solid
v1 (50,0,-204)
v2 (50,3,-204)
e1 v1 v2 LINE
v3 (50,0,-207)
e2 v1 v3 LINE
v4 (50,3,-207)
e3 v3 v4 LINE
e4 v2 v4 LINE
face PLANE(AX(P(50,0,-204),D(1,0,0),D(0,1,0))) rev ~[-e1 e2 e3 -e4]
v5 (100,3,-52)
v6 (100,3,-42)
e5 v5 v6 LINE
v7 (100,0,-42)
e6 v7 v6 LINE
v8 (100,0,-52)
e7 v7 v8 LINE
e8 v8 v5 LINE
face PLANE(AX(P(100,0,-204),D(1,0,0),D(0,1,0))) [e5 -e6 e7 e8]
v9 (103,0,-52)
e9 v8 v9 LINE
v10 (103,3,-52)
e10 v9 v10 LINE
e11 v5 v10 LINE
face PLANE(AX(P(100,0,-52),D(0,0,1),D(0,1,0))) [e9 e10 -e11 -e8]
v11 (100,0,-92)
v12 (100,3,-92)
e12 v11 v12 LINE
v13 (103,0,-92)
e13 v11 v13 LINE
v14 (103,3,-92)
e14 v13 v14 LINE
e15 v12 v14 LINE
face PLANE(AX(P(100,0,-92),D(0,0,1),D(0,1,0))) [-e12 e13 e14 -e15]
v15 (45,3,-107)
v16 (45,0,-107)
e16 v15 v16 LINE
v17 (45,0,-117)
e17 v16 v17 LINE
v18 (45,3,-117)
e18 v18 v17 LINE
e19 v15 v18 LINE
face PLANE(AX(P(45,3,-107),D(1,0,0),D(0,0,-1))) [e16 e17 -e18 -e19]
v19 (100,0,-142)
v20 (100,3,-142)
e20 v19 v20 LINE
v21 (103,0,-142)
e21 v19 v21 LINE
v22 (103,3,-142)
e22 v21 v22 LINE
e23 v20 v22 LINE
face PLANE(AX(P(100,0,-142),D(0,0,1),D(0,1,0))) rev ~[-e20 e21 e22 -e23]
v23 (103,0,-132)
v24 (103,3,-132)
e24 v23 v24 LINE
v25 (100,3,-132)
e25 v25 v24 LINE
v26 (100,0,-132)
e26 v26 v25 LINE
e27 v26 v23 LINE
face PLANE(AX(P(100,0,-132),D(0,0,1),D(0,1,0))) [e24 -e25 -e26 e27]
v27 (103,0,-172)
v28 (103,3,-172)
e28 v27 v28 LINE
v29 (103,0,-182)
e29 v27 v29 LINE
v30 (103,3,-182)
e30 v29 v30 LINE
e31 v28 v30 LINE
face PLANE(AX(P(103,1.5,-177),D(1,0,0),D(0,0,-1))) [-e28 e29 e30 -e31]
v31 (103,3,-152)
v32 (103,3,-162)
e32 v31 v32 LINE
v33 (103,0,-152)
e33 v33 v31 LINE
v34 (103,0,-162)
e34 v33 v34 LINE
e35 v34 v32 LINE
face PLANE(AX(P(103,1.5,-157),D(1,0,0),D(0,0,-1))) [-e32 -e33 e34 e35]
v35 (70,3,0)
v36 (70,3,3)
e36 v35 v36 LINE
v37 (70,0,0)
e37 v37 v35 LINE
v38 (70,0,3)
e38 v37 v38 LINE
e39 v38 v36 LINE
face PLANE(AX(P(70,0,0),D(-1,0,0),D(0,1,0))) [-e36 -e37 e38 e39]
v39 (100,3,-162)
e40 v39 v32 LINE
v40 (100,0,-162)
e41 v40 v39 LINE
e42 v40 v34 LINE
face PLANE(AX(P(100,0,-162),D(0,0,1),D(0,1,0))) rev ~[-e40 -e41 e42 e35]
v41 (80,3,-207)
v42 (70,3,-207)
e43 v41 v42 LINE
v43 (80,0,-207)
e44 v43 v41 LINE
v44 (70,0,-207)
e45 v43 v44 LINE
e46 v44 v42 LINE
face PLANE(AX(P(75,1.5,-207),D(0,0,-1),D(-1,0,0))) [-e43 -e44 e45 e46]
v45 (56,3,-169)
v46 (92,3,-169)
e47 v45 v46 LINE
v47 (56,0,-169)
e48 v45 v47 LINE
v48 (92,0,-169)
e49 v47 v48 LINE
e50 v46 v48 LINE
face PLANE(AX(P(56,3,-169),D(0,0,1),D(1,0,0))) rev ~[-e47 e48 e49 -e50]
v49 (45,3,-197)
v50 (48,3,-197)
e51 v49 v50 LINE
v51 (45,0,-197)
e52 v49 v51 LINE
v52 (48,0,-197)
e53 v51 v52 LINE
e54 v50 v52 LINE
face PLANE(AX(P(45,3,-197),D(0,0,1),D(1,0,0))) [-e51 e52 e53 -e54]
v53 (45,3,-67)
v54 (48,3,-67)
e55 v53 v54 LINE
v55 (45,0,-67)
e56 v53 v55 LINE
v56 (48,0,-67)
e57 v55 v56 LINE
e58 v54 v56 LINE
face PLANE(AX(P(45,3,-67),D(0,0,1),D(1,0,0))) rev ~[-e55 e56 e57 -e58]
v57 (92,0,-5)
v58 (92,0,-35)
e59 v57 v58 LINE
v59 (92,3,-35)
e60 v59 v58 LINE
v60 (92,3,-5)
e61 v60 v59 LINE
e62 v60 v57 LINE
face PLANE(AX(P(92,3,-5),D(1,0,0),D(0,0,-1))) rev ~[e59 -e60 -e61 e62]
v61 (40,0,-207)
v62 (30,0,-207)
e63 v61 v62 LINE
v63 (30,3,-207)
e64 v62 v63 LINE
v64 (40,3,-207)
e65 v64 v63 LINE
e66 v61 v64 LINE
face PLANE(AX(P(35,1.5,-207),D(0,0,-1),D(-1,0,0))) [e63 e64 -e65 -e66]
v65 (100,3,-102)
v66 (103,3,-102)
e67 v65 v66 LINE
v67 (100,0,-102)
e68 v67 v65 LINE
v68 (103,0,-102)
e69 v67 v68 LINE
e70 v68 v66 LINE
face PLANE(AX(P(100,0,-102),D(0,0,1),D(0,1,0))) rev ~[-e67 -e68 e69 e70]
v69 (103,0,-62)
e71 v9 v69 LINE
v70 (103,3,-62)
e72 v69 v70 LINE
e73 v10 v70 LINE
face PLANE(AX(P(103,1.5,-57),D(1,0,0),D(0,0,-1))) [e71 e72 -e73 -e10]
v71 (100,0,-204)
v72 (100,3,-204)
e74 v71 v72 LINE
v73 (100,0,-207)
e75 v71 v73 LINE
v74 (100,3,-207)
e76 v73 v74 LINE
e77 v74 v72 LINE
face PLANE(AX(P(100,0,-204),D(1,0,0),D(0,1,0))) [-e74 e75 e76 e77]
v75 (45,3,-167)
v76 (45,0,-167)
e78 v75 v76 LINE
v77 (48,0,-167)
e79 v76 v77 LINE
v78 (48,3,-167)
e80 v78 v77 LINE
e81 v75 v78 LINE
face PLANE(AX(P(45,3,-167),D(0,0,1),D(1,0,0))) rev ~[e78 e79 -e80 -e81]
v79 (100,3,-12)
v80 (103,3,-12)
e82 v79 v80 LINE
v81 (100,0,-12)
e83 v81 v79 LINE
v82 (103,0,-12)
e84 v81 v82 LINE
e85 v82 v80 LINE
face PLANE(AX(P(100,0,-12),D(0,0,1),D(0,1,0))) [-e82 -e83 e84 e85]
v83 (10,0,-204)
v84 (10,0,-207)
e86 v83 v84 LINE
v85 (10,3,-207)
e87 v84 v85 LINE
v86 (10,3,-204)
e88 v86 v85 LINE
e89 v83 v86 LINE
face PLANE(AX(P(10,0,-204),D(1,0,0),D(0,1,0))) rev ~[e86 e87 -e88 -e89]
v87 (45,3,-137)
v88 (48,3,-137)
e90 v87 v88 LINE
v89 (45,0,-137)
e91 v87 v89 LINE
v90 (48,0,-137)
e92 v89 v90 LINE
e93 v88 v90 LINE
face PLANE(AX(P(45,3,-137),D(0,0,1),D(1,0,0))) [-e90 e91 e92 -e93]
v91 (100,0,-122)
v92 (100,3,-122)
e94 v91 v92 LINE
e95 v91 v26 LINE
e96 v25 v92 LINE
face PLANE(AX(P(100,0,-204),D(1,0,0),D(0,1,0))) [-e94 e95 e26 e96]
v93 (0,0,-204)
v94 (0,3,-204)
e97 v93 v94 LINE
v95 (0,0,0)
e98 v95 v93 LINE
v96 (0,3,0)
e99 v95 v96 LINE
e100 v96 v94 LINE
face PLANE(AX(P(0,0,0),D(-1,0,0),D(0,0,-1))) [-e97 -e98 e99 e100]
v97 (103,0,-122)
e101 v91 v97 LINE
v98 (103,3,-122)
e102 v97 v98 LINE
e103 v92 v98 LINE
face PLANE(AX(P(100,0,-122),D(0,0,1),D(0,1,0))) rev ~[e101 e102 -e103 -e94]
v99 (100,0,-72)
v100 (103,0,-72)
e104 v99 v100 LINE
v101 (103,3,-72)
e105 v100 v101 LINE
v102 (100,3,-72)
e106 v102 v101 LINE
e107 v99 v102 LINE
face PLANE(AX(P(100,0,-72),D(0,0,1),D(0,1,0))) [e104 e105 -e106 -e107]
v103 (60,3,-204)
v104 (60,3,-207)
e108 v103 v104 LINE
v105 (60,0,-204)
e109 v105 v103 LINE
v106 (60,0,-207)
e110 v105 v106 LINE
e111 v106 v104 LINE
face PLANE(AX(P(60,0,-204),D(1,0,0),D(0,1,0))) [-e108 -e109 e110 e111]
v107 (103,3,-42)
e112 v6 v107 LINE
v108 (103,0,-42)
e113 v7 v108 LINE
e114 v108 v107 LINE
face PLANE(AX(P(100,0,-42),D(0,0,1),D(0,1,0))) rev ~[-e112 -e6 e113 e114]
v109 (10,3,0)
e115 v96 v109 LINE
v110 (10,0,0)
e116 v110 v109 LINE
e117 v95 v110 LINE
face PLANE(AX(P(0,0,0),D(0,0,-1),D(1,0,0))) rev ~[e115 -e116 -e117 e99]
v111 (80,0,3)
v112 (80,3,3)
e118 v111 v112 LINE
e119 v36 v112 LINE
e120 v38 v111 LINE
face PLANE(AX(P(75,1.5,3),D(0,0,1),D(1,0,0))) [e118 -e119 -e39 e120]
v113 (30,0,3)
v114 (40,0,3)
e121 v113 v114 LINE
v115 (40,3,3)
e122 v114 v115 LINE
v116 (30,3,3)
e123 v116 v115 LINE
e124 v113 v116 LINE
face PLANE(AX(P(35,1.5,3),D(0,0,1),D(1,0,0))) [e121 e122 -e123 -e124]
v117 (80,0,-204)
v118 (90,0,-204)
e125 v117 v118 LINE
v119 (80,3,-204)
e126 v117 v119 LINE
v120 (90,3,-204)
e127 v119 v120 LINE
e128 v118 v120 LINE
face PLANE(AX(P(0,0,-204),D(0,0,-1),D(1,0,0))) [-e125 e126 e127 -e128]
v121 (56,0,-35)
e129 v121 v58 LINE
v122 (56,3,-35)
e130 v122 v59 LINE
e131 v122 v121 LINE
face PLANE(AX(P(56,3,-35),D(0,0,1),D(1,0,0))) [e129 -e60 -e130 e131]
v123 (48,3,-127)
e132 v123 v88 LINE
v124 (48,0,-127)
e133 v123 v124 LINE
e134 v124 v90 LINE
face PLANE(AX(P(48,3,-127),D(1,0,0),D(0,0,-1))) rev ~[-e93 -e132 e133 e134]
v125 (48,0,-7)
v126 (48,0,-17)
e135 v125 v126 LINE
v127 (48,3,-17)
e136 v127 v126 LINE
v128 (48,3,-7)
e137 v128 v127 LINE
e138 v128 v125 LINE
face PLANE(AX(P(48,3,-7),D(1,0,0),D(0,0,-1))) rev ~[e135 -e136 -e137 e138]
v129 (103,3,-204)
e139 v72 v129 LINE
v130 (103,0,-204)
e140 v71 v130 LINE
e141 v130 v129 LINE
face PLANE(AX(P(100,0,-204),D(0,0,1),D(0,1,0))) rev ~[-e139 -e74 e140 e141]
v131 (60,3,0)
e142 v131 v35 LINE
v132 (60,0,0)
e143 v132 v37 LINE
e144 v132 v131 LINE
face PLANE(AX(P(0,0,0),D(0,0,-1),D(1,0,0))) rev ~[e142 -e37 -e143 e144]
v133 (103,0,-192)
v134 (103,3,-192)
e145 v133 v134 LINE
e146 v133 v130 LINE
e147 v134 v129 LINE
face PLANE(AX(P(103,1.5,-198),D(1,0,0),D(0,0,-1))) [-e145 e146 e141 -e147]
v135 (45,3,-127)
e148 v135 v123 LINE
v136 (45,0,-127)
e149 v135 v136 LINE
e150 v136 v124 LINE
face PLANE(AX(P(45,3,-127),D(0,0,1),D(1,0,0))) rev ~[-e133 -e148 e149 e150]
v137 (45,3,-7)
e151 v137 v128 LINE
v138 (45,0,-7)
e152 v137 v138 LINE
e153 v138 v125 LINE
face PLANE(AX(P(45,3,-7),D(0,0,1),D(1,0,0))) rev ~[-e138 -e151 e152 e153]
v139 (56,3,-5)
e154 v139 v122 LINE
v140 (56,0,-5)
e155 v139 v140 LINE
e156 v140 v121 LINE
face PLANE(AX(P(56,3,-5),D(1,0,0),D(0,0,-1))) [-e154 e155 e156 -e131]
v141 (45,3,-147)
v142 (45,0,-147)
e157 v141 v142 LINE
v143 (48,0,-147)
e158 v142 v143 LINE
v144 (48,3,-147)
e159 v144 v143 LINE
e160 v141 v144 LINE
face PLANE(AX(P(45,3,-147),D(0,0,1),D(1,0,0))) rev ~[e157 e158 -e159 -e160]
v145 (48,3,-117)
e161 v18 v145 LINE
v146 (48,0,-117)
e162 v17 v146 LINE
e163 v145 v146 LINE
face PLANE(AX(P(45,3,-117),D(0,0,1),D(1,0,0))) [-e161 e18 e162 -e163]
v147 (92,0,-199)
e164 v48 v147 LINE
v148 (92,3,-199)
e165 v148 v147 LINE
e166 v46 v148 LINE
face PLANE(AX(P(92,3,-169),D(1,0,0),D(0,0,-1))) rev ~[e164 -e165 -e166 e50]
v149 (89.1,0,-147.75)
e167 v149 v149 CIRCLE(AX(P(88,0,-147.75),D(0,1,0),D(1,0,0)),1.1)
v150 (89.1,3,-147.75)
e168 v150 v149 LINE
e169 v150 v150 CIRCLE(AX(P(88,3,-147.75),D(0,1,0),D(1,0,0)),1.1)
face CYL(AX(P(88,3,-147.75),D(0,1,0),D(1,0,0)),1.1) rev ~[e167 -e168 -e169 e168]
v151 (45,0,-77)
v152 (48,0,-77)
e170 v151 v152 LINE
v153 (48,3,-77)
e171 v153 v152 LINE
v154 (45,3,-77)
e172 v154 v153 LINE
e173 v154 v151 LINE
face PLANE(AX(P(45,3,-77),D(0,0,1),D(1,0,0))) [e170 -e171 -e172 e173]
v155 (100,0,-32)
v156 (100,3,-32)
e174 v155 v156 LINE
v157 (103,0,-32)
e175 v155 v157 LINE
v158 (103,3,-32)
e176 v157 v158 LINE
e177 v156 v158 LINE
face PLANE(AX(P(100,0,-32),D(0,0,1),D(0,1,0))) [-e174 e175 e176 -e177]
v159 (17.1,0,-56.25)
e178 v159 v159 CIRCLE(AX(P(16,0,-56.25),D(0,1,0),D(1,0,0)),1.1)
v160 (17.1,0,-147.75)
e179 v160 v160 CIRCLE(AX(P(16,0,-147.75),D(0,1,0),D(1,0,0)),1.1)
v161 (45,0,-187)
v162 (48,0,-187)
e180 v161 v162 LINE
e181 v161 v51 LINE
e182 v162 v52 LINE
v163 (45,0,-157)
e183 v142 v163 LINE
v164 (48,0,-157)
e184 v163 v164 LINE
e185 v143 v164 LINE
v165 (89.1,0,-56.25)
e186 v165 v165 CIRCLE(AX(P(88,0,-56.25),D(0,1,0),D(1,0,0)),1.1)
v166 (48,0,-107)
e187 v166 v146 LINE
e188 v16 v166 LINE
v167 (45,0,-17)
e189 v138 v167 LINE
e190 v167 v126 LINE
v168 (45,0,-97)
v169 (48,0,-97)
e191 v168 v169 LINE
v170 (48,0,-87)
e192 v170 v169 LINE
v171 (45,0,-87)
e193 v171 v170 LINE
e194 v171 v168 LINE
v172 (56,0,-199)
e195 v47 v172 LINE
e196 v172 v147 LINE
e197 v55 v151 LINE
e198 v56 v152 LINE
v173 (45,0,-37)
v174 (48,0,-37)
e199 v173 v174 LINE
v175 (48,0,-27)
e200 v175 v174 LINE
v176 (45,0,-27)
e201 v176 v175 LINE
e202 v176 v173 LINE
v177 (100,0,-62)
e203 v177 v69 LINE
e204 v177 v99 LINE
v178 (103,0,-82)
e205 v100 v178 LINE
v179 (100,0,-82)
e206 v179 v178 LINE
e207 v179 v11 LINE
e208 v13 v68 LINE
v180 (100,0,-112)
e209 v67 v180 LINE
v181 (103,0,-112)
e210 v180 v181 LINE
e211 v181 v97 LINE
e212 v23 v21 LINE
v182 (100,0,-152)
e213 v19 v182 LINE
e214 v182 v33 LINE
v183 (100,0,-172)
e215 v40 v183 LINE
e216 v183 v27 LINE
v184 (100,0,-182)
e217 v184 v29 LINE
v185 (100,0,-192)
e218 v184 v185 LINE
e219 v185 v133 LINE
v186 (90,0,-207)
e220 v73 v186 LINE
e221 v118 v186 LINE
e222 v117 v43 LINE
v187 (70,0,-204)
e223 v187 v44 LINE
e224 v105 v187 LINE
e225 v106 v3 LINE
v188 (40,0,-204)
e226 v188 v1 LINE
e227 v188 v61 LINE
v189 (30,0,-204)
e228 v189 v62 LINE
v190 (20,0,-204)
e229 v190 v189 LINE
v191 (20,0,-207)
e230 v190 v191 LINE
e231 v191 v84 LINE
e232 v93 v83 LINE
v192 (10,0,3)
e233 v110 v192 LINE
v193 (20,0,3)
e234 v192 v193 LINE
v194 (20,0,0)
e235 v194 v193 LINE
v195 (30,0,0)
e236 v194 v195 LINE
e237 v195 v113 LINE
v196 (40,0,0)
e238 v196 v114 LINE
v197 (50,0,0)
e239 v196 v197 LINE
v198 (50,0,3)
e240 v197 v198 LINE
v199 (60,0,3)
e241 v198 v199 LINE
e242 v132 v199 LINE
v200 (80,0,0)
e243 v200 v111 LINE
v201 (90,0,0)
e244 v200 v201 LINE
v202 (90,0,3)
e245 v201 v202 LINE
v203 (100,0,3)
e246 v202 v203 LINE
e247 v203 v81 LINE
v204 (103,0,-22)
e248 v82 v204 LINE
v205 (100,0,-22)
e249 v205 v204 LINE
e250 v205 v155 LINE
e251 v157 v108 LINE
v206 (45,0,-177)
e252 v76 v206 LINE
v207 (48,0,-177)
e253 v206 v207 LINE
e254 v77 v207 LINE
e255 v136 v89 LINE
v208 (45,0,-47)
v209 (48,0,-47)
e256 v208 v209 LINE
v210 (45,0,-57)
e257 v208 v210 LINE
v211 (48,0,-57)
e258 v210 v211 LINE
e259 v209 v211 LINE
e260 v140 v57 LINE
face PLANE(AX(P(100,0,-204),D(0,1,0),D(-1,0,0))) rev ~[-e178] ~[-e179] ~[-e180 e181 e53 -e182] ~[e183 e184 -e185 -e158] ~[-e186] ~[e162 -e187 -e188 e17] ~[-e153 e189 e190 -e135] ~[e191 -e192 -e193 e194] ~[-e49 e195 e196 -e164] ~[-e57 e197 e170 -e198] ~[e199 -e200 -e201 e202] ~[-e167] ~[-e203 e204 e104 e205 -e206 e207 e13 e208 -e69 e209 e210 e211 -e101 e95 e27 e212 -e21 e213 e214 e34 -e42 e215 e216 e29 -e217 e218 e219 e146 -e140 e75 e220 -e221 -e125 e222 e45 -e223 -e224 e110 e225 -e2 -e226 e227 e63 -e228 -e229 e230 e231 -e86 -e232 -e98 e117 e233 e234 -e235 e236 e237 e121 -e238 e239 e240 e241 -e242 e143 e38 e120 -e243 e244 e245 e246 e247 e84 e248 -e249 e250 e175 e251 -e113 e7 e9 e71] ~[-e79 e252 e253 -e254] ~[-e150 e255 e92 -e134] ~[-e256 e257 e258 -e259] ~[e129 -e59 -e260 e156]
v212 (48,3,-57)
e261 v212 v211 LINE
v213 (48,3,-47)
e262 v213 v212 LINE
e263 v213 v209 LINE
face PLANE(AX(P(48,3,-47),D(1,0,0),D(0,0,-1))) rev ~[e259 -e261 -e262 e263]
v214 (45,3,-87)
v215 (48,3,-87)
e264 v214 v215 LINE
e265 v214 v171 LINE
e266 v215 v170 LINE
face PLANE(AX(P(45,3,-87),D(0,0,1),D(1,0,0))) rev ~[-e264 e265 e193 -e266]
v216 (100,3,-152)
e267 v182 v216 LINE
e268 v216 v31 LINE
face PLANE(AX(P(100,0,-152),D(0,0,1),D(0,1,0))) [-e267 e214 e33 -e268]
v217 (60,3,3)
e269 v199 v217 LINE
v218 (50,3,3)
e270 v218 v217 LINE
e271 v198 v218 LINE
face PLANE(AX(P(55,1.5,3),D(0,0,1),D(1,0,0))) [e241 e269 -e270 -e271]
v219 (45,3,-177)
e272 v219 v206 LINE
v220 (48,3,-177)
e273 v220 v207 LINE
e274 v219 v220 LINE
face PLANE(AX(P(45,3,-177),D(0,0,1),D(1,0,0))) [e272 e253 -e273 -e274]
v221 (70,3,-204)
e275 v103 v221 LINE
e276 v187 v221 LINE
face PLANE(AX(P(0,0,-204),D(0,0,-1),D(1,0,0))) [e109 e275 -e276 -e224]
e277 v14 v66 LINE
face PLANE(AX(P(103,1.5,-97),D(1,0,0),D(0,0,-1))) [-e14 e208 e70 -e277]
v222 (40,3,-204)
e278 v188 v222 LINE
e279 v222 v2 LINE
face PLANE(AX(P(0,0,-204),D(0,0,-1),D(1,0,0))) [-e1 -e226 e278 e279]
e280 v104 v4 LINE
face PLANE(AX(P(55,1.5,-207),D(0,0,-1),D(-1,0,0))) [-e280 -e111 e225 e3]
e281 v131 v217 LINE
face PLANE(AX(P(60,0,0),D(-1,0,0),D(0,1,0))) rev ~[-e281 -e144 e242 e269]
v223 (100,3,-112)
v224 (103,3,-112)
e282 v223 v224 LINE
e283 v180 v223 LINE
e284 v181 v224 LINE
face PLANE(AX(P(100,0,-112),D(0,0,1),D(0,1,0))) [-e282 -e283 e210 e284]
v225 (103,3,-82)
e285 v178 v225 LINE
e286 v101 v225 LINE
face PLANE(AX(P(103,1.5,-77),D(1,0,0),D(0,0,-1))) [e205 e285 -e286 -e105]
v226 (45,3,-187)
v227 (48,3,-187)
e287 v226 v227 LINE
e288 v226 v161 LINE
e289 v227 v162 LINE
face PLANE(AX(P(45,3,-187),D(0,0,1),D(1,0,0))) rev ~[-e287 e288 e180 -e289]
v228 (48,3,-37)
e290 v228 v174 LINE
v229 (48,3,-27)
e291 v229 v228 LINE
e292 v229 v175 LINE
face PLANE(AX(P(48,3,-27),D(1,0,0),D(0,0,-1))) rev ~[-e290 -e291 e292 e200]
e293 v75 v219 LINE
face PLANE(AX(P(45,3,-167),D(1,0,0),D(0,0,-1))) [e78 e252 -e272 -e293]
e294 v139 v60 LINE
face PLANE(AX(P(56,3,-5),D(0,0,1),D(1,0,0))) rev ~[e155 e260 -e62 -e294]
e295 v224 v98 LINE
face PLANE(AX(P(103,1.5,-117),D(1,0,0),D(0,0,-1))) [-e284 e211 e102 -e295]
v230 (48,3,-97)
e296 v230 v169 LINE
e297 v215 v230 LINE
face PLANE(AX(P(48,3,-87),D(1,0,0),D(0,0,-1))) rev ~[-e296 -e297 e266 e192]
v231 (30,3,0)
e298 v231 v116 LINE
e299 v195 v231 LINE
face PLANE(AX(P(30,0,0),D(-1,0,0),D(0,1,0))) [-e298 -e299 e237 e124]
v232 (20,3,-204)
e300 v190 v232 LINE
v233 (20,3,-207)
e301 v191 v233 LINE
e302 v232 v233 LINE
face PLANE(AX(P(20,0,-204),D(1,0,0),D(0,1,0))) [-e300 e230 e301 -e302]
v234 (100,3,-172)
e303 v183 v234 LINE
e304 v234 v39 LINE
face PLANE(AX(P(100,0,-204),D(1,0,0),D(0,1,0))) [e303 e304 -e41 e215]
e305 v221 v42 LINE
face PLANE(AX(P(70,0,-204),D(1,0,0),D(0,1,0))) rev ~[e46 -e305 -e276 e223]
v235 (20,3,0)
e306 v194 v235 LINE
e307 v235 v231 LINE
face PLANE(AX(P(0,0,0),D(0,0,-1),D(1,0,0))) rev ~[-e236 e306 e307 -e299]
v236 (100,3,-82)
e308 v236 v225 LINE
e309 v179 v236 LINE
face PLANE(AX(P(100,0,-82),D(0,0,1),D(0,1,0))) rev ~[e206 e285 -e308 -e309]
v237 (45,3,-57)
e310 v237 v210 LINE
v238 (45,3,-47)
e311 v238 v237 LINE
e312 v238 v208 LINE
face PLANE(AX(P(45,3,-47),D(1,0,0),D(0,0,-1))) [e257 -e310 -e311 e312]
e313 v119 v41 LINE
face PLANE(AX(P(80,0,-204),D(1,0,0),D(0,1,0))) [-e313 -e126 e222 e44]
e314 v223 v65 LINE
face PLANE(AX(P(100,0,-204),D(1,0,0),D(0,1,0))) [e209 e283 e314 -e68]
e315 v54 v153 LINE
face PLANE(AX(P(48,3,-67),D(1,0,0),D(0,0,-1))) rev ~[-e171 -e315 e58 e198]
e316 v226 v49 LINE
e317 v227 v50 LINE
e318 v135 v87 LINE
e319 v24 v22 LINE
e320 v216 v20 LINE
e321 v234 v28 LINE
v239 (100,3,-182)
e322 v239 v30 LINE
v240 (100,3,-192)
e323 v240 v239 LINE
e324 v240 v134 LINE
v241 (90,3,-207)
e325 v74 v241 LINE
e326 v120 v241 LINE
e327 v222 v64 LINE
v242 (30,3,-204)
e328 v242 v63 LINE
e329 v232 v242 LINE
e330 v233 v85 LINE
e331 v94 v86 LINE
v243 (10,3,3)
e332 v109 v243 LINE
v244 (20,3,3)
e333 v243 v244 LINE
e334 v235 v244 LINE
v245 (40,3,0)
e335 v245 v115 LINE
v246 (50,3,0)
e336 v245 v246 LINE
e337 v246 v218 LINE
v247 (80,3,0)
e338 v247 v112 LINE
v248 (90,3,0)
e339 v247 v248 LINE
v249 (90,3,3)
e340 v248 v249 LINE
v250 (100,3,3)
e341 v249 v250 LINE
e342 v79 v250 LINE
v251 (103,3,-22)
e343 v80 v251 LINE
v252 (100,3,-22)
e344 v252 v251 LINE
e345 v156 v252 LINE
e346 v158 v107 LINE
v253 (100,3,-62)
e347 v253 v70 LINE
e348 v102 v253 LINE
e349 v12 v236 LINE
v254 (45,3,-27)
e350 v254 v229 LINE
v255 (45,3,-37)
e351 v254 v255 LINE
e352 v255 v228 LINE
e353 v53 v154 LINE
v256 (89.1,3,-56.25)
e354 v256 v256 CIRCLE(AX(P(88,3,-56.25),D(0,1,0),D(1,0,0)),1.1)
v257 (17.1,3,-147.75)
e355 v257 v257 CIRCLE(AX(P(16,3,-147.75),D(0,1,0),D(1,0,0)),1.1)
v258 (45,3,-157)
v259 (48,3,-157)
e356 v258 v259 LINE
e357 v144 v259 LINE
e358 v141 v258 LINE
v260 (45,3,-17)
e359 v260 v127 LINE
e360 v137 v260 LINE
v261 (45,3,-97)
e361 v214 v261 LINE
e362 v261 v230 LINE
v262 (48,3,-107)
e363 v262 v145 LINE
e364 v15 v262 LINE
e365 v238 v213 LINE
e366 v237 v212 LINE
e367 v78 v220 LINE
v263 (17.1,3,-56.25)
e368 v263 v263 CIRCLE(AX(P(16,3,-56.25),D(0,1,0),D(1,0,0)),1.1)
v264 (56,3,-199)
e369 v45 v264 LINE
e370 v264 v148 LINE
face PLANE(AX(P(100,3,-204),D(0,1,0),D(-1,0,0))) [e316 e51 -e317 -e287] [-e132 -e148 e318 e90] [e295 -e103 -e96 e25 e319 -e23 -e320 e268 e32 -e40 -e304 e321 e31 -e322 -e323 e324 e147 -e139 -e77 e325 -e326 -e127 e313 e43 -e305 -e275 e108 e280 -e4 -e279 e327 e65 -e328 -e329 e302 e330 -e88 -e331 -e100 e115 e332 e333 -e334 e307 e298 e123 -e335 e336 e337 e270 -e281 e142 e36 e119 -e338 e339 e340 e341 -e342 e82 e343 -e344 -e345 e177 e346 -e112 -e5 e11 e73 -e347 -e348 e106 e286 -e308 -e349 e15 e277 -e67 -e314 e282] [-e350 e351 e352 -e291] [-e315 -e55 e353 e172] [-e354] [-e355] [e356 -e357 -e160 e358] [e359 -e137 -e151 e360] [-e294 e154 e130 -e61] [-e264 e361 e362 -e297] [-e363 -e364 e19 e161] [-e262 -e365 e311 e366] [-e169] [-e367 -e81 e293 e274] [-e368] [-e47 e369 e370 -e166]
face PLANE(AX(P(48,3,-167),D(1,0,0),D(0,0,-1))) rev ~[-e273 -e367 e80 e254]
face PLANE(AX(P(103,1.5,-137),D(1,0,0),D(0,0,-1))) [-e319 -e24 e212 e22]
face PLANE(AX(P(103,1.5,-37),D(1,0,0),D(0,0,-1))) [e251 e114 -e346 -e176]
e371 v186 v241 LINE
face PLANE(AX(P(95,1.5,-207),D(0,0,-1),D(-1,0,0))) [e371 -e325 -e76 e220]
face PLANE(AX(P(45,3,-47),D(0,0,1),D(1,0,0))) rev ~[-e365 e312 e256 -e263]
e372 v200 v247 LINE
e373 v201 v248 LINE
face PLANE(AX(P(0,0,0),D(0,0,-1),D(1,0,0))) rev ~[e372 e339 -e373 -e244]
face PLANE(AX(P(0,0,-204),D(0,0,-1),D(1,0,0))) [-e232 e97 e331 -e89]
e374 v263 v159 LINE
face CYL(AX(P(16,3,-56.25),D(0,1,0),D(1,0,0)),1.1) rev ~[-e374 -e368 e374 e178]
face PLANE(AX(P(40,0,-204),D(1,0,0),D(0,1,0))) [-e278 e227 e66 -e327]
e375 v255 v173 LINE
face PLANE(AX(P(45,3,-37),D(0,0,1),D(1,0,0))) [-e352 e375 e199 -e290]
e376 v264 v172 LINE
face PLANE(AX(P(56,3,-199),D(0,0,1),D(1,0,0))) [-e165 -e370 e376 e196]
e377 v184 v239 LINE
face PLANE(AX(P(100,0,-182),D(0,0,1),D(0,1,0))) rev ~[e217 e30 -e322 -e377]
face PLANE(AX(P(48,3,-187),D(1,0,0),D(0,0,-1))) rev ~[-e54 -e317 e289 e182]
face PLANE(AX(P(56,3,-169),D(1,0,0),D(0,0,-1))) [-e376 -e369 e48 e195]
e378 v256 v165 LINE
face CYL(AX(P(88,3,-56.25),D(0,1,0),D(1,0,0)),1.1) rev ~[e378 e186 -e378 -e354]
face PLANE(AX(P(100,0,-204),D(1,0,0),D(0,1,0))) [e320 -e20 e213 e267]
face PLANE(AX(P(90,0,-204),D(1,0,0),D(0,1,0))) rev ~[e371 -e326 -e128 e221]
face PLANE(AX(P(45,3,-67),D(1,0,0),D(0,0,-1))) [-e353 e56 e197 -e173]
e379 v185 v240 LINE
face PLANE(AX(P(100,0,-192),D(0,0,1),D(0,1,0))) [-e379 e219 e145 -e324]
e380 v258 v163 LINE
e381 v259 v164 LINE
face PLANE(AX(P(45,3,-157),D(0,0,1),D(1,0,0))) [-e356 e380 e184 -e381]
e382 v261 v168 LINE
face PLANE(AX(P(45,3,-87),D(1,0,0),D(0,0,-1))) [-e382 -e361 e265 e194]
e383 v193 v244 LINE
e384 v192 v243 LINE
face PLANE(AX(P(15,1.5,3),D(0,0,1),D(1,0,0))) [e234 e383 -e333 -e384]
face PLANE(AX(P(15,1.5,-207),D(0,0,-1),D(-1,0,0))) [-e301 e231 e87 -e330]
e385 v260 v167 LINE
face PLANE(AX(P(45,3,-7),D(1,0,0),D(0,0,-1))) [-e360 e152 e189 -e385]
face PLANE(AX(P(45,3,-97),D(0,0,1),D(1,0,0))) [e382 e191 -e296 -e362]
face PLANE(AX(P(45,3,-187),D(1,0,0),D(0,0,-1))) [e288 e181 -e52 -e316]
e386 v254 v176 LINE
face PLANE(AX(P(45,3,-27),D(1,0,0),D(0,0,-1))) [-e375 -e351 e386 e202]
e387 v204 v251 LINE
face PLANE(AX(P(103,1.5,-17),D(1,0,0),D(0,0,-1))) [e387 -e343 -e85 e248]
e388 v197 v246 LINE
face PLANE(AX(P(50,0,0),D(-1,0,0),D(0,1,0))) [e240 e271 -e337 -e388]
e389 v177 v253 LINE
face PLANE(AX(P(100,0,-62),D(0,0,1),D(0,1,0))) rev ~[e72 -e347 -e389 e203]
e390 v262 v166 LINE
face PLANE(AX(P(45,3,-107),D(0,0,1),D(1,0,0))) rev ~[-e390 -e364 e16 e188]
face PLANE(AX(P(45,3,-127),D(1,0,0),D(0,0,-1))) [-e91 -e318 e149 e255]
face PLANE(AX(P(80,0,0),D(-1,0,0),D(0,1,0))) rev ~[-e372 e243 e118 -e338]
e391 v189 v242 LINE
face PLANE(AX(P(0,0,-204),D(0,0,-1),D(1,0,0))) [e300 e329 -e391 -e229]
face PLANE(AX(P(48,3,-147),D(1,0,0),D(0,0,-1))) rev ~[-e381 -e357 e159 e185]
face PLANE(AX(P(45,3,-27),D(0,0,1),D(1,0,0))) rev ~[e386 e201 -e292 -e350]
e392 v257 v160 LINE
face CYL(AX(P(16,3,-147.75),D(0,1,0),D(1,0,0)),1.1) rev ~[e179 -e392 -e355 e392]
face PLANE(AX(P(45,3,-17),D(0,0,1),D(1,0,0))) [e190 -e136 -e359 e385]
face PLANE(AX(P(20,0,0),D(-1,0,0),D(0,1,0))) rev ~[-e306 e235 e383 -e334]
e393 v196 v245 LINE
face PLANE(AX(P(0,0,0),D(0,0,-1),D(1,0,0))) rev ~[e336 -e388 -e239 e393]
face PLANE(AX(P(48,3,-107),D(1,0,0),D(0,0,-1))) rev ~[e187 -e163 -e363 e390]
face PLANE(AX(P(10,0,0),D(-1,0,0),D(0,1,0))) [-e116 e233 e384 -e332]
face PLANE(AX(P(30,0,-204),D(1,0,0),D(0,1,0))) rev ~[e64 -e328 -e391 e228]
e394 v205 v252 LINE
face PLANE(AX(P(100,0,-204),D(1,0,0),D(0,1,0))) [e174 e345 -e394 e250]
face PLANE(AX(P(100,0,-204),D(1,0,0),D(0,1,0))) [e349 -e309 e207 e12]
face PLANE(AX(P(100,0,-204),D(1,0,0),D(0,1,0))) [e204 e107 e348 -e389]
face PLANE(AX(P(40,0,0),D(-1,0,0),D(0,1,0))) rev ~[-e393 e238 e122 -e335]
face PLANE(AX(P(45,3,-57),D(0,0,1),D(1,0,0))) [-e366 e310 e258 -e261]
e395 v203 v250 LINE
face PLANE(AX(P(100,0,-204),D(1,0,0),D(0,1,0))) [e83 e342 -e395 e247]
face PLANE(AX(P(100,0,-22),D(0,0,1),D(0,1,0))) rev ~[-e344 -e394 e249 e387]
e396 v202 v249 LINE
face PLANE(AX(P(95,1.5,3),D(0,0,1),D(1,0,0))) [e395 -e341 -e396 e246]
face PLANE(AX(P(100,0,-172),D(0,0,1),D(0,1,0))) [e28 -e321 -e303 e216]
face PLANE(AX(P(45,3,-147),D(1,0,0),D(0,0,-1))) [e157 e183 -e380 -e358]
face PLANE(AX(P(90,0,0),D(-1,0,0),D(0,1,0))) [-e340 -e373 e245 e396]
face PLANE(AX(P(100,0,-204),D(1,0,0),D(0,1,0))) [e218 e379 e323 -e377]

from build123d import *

# Parameters (mm, degrees)
SKETCH1_W           = 100
SKETCH1_H           = 204
BOSS_EXTRUDE1_DEPTH = 3
SKETCH2_W           = 10
SKETCH2_H           = 3
BOSS_EXTRUDE2_DEPTH = 3
LPATTERN1_COUNT     = 5
LPATTERN1_PITCH     = 20
SKETCH3_W           = 10
SKETCH3_H           = 3
BOSS_EXTRUDE3_DEPTH = 3
LPATTERN2_COUNT     = 5
LPATTERN2_PITCH     = 20
SKETCH4_W           = 3
SKETCH4_H           = 10
CUT_EXTRUDE1_DEPTH  = 4
LPATTERN3_COUNT     = 10
LPATTERN3_PITCH     = 20
SKETCH5_R           = 1.1
SKETCH5_W           = 36
SKETCH5_H           = 30
CUT_EXTRUDE2_DEPTH  = 4
SKETCH6_W           = 12
SKETCH6_H           = 3
SKETCH6_W_2         = 10
BOSS_EXTRUDE4_DEPTH = 3


with BuildPart() as part:
    # Sketch1 → Boss-Extrude1 (new body)
    with BuildSketch(Plane(origin=(0, 0, 0), x_dir=(1, 0, 0), z_dir=(0, 1, 0))):
        with Locations((50, 102)):
            Rectangle(SKETCH1_W, SKETCH1_H)
    extrude(amount=BOSS_EXTRUDE1_DEPTH)

    # Sketch2 → Boss-Extrude2 (add)
    with BuildSketch(Plane.XY):
        with Locations((95, 1.5)):
            Rectangle(SKETCH2_W, SKETCH2_H)
    boss_extrude2 = extrude(amount=BOSS_EXTRUDE2_DEPTH)

    # LPattern1: Boss-Extrude2 ×5
    with Locations(*[(-i * LPATTERN1_PITCH, 0, 0) for i in range(1, LPATTERN1_COUNT)]):
        add(boss_extrude2)

    # Sketch3 → Boss-Extrude3 (add)
    with BuildSketch(Plane(origin=(0, 0, -204), x_dir=(-1, 0, 0), z_dir=(0, 0, -1))):
        with Locations((-95, 1.5)):
            Rectangle(SKETCH3_W, SKETCH3_H)
    boss_extrude3 = extrude(amount=BOSS_EXTRUDE3_DEPTH)

    # LPattern2: Boss-Extrude3 ×5
    with Locations(*[(-i * LPATTERN2_PITCH, 0, 0) for i in range(1, LPATTERN2_COUNT)]):
        add(boss_extrude3)

    # Sketch4 → Cut-Extrude1 (cut, through all)
    with BuildSketch(Plane(origin=(0, 3, 0), x_dir=(1, 0, 0), z_dir=(0, 1, 0))):
        with Locations((46.5, 12)):
            Rectangle(SKETCH4_W, SKETCH4_H)
    cut_extrude1 = extrude(amount=-CUT_EXTRUDE1_DEPTH, mode=Mode.SUBTRACT)

    # LPattern3: Cut-Extrude1 ×10
    with Locations(*[(0, 0, -i * LPATTERN3_PITCH) for i in range(1, LPATTERN3_COUNT)]):
        add(cut_extrude1, mode=Mode.SUBTRACT)

    # Sketch5 → Cut-Extrude2 (cut, through all)
    with BuildSketch(Plane(origin=(0, 3, 0), x_dir=(1, 0, 0), z_dir=(0, 1, 0))):
        with Locations((88, 147.75)):
            Circle(SKETCH5_R)
        with Locations((88, 56.25)):
            Circle(SKETCH5_R)
        with Locations((16, 56.25)):
            Circle(SKETCH5_R)
        with Locations((16, 147.75)):
            Circle(SKETCH5_R)
        with Locations((74, 20)):
            Rectangle(SKETCH5_W, SKETCH5_H)
        with Locations((74, 184)):
            Rectangle(SKETCH5_W, SKETCH5_H)
    extrude(amount=-CUT_EXTRUDE2_DEPTH, mode=Mode.SUBTRACT)

    # Sketch6 → Boss-Extrude4 (add)
    with BuildSketch(Plane(origin=(100, 0, 0), x_dir=(0, 0, -1), z_dir=(1, 0, 0))):
        with Locations((198, 1.5)):
            Rectangle(SKETCH6_W, SKETCH6_H)
        with Locations((157, 1.5)):
            Rectangle(SKETCH6_W_2, SKETCH6_H)
        with Locations((177, 1.5)):
            Rectangle(SKETCH6_W_2, SKETCH6_H)
        with Locations((137, 1.5)):
            Rectangle(SKETCH6_W_2, SKETCH6_H)
        with Locations((117, 1.5)):
            Rectangle(SKETCH6_W_2, SKETCH6_H)
        with Locations((97, 1.5)):
            Rectangle(SKETCH6_W_2, SKETCH6_H)
        with Locations((77, 1.5)):
            Rectangle(SKETCH6_W_2, SKETCH6_H)
        with Locations((57, 1.5)):
            Rectangle(SKETCH6_W_2, SKETCH6_H)
        with Locations((37, 1.5)):
            Rectangle(SKETCH6_W_2, SKETCH6_H)
        with Locations((17, 1.5)):
            Rectangle(SKETCH6_W_2, SKETCH6_H)
    extrude(amount=BOSS_EXTRUDE4_DEPTH)


solid = part.part
